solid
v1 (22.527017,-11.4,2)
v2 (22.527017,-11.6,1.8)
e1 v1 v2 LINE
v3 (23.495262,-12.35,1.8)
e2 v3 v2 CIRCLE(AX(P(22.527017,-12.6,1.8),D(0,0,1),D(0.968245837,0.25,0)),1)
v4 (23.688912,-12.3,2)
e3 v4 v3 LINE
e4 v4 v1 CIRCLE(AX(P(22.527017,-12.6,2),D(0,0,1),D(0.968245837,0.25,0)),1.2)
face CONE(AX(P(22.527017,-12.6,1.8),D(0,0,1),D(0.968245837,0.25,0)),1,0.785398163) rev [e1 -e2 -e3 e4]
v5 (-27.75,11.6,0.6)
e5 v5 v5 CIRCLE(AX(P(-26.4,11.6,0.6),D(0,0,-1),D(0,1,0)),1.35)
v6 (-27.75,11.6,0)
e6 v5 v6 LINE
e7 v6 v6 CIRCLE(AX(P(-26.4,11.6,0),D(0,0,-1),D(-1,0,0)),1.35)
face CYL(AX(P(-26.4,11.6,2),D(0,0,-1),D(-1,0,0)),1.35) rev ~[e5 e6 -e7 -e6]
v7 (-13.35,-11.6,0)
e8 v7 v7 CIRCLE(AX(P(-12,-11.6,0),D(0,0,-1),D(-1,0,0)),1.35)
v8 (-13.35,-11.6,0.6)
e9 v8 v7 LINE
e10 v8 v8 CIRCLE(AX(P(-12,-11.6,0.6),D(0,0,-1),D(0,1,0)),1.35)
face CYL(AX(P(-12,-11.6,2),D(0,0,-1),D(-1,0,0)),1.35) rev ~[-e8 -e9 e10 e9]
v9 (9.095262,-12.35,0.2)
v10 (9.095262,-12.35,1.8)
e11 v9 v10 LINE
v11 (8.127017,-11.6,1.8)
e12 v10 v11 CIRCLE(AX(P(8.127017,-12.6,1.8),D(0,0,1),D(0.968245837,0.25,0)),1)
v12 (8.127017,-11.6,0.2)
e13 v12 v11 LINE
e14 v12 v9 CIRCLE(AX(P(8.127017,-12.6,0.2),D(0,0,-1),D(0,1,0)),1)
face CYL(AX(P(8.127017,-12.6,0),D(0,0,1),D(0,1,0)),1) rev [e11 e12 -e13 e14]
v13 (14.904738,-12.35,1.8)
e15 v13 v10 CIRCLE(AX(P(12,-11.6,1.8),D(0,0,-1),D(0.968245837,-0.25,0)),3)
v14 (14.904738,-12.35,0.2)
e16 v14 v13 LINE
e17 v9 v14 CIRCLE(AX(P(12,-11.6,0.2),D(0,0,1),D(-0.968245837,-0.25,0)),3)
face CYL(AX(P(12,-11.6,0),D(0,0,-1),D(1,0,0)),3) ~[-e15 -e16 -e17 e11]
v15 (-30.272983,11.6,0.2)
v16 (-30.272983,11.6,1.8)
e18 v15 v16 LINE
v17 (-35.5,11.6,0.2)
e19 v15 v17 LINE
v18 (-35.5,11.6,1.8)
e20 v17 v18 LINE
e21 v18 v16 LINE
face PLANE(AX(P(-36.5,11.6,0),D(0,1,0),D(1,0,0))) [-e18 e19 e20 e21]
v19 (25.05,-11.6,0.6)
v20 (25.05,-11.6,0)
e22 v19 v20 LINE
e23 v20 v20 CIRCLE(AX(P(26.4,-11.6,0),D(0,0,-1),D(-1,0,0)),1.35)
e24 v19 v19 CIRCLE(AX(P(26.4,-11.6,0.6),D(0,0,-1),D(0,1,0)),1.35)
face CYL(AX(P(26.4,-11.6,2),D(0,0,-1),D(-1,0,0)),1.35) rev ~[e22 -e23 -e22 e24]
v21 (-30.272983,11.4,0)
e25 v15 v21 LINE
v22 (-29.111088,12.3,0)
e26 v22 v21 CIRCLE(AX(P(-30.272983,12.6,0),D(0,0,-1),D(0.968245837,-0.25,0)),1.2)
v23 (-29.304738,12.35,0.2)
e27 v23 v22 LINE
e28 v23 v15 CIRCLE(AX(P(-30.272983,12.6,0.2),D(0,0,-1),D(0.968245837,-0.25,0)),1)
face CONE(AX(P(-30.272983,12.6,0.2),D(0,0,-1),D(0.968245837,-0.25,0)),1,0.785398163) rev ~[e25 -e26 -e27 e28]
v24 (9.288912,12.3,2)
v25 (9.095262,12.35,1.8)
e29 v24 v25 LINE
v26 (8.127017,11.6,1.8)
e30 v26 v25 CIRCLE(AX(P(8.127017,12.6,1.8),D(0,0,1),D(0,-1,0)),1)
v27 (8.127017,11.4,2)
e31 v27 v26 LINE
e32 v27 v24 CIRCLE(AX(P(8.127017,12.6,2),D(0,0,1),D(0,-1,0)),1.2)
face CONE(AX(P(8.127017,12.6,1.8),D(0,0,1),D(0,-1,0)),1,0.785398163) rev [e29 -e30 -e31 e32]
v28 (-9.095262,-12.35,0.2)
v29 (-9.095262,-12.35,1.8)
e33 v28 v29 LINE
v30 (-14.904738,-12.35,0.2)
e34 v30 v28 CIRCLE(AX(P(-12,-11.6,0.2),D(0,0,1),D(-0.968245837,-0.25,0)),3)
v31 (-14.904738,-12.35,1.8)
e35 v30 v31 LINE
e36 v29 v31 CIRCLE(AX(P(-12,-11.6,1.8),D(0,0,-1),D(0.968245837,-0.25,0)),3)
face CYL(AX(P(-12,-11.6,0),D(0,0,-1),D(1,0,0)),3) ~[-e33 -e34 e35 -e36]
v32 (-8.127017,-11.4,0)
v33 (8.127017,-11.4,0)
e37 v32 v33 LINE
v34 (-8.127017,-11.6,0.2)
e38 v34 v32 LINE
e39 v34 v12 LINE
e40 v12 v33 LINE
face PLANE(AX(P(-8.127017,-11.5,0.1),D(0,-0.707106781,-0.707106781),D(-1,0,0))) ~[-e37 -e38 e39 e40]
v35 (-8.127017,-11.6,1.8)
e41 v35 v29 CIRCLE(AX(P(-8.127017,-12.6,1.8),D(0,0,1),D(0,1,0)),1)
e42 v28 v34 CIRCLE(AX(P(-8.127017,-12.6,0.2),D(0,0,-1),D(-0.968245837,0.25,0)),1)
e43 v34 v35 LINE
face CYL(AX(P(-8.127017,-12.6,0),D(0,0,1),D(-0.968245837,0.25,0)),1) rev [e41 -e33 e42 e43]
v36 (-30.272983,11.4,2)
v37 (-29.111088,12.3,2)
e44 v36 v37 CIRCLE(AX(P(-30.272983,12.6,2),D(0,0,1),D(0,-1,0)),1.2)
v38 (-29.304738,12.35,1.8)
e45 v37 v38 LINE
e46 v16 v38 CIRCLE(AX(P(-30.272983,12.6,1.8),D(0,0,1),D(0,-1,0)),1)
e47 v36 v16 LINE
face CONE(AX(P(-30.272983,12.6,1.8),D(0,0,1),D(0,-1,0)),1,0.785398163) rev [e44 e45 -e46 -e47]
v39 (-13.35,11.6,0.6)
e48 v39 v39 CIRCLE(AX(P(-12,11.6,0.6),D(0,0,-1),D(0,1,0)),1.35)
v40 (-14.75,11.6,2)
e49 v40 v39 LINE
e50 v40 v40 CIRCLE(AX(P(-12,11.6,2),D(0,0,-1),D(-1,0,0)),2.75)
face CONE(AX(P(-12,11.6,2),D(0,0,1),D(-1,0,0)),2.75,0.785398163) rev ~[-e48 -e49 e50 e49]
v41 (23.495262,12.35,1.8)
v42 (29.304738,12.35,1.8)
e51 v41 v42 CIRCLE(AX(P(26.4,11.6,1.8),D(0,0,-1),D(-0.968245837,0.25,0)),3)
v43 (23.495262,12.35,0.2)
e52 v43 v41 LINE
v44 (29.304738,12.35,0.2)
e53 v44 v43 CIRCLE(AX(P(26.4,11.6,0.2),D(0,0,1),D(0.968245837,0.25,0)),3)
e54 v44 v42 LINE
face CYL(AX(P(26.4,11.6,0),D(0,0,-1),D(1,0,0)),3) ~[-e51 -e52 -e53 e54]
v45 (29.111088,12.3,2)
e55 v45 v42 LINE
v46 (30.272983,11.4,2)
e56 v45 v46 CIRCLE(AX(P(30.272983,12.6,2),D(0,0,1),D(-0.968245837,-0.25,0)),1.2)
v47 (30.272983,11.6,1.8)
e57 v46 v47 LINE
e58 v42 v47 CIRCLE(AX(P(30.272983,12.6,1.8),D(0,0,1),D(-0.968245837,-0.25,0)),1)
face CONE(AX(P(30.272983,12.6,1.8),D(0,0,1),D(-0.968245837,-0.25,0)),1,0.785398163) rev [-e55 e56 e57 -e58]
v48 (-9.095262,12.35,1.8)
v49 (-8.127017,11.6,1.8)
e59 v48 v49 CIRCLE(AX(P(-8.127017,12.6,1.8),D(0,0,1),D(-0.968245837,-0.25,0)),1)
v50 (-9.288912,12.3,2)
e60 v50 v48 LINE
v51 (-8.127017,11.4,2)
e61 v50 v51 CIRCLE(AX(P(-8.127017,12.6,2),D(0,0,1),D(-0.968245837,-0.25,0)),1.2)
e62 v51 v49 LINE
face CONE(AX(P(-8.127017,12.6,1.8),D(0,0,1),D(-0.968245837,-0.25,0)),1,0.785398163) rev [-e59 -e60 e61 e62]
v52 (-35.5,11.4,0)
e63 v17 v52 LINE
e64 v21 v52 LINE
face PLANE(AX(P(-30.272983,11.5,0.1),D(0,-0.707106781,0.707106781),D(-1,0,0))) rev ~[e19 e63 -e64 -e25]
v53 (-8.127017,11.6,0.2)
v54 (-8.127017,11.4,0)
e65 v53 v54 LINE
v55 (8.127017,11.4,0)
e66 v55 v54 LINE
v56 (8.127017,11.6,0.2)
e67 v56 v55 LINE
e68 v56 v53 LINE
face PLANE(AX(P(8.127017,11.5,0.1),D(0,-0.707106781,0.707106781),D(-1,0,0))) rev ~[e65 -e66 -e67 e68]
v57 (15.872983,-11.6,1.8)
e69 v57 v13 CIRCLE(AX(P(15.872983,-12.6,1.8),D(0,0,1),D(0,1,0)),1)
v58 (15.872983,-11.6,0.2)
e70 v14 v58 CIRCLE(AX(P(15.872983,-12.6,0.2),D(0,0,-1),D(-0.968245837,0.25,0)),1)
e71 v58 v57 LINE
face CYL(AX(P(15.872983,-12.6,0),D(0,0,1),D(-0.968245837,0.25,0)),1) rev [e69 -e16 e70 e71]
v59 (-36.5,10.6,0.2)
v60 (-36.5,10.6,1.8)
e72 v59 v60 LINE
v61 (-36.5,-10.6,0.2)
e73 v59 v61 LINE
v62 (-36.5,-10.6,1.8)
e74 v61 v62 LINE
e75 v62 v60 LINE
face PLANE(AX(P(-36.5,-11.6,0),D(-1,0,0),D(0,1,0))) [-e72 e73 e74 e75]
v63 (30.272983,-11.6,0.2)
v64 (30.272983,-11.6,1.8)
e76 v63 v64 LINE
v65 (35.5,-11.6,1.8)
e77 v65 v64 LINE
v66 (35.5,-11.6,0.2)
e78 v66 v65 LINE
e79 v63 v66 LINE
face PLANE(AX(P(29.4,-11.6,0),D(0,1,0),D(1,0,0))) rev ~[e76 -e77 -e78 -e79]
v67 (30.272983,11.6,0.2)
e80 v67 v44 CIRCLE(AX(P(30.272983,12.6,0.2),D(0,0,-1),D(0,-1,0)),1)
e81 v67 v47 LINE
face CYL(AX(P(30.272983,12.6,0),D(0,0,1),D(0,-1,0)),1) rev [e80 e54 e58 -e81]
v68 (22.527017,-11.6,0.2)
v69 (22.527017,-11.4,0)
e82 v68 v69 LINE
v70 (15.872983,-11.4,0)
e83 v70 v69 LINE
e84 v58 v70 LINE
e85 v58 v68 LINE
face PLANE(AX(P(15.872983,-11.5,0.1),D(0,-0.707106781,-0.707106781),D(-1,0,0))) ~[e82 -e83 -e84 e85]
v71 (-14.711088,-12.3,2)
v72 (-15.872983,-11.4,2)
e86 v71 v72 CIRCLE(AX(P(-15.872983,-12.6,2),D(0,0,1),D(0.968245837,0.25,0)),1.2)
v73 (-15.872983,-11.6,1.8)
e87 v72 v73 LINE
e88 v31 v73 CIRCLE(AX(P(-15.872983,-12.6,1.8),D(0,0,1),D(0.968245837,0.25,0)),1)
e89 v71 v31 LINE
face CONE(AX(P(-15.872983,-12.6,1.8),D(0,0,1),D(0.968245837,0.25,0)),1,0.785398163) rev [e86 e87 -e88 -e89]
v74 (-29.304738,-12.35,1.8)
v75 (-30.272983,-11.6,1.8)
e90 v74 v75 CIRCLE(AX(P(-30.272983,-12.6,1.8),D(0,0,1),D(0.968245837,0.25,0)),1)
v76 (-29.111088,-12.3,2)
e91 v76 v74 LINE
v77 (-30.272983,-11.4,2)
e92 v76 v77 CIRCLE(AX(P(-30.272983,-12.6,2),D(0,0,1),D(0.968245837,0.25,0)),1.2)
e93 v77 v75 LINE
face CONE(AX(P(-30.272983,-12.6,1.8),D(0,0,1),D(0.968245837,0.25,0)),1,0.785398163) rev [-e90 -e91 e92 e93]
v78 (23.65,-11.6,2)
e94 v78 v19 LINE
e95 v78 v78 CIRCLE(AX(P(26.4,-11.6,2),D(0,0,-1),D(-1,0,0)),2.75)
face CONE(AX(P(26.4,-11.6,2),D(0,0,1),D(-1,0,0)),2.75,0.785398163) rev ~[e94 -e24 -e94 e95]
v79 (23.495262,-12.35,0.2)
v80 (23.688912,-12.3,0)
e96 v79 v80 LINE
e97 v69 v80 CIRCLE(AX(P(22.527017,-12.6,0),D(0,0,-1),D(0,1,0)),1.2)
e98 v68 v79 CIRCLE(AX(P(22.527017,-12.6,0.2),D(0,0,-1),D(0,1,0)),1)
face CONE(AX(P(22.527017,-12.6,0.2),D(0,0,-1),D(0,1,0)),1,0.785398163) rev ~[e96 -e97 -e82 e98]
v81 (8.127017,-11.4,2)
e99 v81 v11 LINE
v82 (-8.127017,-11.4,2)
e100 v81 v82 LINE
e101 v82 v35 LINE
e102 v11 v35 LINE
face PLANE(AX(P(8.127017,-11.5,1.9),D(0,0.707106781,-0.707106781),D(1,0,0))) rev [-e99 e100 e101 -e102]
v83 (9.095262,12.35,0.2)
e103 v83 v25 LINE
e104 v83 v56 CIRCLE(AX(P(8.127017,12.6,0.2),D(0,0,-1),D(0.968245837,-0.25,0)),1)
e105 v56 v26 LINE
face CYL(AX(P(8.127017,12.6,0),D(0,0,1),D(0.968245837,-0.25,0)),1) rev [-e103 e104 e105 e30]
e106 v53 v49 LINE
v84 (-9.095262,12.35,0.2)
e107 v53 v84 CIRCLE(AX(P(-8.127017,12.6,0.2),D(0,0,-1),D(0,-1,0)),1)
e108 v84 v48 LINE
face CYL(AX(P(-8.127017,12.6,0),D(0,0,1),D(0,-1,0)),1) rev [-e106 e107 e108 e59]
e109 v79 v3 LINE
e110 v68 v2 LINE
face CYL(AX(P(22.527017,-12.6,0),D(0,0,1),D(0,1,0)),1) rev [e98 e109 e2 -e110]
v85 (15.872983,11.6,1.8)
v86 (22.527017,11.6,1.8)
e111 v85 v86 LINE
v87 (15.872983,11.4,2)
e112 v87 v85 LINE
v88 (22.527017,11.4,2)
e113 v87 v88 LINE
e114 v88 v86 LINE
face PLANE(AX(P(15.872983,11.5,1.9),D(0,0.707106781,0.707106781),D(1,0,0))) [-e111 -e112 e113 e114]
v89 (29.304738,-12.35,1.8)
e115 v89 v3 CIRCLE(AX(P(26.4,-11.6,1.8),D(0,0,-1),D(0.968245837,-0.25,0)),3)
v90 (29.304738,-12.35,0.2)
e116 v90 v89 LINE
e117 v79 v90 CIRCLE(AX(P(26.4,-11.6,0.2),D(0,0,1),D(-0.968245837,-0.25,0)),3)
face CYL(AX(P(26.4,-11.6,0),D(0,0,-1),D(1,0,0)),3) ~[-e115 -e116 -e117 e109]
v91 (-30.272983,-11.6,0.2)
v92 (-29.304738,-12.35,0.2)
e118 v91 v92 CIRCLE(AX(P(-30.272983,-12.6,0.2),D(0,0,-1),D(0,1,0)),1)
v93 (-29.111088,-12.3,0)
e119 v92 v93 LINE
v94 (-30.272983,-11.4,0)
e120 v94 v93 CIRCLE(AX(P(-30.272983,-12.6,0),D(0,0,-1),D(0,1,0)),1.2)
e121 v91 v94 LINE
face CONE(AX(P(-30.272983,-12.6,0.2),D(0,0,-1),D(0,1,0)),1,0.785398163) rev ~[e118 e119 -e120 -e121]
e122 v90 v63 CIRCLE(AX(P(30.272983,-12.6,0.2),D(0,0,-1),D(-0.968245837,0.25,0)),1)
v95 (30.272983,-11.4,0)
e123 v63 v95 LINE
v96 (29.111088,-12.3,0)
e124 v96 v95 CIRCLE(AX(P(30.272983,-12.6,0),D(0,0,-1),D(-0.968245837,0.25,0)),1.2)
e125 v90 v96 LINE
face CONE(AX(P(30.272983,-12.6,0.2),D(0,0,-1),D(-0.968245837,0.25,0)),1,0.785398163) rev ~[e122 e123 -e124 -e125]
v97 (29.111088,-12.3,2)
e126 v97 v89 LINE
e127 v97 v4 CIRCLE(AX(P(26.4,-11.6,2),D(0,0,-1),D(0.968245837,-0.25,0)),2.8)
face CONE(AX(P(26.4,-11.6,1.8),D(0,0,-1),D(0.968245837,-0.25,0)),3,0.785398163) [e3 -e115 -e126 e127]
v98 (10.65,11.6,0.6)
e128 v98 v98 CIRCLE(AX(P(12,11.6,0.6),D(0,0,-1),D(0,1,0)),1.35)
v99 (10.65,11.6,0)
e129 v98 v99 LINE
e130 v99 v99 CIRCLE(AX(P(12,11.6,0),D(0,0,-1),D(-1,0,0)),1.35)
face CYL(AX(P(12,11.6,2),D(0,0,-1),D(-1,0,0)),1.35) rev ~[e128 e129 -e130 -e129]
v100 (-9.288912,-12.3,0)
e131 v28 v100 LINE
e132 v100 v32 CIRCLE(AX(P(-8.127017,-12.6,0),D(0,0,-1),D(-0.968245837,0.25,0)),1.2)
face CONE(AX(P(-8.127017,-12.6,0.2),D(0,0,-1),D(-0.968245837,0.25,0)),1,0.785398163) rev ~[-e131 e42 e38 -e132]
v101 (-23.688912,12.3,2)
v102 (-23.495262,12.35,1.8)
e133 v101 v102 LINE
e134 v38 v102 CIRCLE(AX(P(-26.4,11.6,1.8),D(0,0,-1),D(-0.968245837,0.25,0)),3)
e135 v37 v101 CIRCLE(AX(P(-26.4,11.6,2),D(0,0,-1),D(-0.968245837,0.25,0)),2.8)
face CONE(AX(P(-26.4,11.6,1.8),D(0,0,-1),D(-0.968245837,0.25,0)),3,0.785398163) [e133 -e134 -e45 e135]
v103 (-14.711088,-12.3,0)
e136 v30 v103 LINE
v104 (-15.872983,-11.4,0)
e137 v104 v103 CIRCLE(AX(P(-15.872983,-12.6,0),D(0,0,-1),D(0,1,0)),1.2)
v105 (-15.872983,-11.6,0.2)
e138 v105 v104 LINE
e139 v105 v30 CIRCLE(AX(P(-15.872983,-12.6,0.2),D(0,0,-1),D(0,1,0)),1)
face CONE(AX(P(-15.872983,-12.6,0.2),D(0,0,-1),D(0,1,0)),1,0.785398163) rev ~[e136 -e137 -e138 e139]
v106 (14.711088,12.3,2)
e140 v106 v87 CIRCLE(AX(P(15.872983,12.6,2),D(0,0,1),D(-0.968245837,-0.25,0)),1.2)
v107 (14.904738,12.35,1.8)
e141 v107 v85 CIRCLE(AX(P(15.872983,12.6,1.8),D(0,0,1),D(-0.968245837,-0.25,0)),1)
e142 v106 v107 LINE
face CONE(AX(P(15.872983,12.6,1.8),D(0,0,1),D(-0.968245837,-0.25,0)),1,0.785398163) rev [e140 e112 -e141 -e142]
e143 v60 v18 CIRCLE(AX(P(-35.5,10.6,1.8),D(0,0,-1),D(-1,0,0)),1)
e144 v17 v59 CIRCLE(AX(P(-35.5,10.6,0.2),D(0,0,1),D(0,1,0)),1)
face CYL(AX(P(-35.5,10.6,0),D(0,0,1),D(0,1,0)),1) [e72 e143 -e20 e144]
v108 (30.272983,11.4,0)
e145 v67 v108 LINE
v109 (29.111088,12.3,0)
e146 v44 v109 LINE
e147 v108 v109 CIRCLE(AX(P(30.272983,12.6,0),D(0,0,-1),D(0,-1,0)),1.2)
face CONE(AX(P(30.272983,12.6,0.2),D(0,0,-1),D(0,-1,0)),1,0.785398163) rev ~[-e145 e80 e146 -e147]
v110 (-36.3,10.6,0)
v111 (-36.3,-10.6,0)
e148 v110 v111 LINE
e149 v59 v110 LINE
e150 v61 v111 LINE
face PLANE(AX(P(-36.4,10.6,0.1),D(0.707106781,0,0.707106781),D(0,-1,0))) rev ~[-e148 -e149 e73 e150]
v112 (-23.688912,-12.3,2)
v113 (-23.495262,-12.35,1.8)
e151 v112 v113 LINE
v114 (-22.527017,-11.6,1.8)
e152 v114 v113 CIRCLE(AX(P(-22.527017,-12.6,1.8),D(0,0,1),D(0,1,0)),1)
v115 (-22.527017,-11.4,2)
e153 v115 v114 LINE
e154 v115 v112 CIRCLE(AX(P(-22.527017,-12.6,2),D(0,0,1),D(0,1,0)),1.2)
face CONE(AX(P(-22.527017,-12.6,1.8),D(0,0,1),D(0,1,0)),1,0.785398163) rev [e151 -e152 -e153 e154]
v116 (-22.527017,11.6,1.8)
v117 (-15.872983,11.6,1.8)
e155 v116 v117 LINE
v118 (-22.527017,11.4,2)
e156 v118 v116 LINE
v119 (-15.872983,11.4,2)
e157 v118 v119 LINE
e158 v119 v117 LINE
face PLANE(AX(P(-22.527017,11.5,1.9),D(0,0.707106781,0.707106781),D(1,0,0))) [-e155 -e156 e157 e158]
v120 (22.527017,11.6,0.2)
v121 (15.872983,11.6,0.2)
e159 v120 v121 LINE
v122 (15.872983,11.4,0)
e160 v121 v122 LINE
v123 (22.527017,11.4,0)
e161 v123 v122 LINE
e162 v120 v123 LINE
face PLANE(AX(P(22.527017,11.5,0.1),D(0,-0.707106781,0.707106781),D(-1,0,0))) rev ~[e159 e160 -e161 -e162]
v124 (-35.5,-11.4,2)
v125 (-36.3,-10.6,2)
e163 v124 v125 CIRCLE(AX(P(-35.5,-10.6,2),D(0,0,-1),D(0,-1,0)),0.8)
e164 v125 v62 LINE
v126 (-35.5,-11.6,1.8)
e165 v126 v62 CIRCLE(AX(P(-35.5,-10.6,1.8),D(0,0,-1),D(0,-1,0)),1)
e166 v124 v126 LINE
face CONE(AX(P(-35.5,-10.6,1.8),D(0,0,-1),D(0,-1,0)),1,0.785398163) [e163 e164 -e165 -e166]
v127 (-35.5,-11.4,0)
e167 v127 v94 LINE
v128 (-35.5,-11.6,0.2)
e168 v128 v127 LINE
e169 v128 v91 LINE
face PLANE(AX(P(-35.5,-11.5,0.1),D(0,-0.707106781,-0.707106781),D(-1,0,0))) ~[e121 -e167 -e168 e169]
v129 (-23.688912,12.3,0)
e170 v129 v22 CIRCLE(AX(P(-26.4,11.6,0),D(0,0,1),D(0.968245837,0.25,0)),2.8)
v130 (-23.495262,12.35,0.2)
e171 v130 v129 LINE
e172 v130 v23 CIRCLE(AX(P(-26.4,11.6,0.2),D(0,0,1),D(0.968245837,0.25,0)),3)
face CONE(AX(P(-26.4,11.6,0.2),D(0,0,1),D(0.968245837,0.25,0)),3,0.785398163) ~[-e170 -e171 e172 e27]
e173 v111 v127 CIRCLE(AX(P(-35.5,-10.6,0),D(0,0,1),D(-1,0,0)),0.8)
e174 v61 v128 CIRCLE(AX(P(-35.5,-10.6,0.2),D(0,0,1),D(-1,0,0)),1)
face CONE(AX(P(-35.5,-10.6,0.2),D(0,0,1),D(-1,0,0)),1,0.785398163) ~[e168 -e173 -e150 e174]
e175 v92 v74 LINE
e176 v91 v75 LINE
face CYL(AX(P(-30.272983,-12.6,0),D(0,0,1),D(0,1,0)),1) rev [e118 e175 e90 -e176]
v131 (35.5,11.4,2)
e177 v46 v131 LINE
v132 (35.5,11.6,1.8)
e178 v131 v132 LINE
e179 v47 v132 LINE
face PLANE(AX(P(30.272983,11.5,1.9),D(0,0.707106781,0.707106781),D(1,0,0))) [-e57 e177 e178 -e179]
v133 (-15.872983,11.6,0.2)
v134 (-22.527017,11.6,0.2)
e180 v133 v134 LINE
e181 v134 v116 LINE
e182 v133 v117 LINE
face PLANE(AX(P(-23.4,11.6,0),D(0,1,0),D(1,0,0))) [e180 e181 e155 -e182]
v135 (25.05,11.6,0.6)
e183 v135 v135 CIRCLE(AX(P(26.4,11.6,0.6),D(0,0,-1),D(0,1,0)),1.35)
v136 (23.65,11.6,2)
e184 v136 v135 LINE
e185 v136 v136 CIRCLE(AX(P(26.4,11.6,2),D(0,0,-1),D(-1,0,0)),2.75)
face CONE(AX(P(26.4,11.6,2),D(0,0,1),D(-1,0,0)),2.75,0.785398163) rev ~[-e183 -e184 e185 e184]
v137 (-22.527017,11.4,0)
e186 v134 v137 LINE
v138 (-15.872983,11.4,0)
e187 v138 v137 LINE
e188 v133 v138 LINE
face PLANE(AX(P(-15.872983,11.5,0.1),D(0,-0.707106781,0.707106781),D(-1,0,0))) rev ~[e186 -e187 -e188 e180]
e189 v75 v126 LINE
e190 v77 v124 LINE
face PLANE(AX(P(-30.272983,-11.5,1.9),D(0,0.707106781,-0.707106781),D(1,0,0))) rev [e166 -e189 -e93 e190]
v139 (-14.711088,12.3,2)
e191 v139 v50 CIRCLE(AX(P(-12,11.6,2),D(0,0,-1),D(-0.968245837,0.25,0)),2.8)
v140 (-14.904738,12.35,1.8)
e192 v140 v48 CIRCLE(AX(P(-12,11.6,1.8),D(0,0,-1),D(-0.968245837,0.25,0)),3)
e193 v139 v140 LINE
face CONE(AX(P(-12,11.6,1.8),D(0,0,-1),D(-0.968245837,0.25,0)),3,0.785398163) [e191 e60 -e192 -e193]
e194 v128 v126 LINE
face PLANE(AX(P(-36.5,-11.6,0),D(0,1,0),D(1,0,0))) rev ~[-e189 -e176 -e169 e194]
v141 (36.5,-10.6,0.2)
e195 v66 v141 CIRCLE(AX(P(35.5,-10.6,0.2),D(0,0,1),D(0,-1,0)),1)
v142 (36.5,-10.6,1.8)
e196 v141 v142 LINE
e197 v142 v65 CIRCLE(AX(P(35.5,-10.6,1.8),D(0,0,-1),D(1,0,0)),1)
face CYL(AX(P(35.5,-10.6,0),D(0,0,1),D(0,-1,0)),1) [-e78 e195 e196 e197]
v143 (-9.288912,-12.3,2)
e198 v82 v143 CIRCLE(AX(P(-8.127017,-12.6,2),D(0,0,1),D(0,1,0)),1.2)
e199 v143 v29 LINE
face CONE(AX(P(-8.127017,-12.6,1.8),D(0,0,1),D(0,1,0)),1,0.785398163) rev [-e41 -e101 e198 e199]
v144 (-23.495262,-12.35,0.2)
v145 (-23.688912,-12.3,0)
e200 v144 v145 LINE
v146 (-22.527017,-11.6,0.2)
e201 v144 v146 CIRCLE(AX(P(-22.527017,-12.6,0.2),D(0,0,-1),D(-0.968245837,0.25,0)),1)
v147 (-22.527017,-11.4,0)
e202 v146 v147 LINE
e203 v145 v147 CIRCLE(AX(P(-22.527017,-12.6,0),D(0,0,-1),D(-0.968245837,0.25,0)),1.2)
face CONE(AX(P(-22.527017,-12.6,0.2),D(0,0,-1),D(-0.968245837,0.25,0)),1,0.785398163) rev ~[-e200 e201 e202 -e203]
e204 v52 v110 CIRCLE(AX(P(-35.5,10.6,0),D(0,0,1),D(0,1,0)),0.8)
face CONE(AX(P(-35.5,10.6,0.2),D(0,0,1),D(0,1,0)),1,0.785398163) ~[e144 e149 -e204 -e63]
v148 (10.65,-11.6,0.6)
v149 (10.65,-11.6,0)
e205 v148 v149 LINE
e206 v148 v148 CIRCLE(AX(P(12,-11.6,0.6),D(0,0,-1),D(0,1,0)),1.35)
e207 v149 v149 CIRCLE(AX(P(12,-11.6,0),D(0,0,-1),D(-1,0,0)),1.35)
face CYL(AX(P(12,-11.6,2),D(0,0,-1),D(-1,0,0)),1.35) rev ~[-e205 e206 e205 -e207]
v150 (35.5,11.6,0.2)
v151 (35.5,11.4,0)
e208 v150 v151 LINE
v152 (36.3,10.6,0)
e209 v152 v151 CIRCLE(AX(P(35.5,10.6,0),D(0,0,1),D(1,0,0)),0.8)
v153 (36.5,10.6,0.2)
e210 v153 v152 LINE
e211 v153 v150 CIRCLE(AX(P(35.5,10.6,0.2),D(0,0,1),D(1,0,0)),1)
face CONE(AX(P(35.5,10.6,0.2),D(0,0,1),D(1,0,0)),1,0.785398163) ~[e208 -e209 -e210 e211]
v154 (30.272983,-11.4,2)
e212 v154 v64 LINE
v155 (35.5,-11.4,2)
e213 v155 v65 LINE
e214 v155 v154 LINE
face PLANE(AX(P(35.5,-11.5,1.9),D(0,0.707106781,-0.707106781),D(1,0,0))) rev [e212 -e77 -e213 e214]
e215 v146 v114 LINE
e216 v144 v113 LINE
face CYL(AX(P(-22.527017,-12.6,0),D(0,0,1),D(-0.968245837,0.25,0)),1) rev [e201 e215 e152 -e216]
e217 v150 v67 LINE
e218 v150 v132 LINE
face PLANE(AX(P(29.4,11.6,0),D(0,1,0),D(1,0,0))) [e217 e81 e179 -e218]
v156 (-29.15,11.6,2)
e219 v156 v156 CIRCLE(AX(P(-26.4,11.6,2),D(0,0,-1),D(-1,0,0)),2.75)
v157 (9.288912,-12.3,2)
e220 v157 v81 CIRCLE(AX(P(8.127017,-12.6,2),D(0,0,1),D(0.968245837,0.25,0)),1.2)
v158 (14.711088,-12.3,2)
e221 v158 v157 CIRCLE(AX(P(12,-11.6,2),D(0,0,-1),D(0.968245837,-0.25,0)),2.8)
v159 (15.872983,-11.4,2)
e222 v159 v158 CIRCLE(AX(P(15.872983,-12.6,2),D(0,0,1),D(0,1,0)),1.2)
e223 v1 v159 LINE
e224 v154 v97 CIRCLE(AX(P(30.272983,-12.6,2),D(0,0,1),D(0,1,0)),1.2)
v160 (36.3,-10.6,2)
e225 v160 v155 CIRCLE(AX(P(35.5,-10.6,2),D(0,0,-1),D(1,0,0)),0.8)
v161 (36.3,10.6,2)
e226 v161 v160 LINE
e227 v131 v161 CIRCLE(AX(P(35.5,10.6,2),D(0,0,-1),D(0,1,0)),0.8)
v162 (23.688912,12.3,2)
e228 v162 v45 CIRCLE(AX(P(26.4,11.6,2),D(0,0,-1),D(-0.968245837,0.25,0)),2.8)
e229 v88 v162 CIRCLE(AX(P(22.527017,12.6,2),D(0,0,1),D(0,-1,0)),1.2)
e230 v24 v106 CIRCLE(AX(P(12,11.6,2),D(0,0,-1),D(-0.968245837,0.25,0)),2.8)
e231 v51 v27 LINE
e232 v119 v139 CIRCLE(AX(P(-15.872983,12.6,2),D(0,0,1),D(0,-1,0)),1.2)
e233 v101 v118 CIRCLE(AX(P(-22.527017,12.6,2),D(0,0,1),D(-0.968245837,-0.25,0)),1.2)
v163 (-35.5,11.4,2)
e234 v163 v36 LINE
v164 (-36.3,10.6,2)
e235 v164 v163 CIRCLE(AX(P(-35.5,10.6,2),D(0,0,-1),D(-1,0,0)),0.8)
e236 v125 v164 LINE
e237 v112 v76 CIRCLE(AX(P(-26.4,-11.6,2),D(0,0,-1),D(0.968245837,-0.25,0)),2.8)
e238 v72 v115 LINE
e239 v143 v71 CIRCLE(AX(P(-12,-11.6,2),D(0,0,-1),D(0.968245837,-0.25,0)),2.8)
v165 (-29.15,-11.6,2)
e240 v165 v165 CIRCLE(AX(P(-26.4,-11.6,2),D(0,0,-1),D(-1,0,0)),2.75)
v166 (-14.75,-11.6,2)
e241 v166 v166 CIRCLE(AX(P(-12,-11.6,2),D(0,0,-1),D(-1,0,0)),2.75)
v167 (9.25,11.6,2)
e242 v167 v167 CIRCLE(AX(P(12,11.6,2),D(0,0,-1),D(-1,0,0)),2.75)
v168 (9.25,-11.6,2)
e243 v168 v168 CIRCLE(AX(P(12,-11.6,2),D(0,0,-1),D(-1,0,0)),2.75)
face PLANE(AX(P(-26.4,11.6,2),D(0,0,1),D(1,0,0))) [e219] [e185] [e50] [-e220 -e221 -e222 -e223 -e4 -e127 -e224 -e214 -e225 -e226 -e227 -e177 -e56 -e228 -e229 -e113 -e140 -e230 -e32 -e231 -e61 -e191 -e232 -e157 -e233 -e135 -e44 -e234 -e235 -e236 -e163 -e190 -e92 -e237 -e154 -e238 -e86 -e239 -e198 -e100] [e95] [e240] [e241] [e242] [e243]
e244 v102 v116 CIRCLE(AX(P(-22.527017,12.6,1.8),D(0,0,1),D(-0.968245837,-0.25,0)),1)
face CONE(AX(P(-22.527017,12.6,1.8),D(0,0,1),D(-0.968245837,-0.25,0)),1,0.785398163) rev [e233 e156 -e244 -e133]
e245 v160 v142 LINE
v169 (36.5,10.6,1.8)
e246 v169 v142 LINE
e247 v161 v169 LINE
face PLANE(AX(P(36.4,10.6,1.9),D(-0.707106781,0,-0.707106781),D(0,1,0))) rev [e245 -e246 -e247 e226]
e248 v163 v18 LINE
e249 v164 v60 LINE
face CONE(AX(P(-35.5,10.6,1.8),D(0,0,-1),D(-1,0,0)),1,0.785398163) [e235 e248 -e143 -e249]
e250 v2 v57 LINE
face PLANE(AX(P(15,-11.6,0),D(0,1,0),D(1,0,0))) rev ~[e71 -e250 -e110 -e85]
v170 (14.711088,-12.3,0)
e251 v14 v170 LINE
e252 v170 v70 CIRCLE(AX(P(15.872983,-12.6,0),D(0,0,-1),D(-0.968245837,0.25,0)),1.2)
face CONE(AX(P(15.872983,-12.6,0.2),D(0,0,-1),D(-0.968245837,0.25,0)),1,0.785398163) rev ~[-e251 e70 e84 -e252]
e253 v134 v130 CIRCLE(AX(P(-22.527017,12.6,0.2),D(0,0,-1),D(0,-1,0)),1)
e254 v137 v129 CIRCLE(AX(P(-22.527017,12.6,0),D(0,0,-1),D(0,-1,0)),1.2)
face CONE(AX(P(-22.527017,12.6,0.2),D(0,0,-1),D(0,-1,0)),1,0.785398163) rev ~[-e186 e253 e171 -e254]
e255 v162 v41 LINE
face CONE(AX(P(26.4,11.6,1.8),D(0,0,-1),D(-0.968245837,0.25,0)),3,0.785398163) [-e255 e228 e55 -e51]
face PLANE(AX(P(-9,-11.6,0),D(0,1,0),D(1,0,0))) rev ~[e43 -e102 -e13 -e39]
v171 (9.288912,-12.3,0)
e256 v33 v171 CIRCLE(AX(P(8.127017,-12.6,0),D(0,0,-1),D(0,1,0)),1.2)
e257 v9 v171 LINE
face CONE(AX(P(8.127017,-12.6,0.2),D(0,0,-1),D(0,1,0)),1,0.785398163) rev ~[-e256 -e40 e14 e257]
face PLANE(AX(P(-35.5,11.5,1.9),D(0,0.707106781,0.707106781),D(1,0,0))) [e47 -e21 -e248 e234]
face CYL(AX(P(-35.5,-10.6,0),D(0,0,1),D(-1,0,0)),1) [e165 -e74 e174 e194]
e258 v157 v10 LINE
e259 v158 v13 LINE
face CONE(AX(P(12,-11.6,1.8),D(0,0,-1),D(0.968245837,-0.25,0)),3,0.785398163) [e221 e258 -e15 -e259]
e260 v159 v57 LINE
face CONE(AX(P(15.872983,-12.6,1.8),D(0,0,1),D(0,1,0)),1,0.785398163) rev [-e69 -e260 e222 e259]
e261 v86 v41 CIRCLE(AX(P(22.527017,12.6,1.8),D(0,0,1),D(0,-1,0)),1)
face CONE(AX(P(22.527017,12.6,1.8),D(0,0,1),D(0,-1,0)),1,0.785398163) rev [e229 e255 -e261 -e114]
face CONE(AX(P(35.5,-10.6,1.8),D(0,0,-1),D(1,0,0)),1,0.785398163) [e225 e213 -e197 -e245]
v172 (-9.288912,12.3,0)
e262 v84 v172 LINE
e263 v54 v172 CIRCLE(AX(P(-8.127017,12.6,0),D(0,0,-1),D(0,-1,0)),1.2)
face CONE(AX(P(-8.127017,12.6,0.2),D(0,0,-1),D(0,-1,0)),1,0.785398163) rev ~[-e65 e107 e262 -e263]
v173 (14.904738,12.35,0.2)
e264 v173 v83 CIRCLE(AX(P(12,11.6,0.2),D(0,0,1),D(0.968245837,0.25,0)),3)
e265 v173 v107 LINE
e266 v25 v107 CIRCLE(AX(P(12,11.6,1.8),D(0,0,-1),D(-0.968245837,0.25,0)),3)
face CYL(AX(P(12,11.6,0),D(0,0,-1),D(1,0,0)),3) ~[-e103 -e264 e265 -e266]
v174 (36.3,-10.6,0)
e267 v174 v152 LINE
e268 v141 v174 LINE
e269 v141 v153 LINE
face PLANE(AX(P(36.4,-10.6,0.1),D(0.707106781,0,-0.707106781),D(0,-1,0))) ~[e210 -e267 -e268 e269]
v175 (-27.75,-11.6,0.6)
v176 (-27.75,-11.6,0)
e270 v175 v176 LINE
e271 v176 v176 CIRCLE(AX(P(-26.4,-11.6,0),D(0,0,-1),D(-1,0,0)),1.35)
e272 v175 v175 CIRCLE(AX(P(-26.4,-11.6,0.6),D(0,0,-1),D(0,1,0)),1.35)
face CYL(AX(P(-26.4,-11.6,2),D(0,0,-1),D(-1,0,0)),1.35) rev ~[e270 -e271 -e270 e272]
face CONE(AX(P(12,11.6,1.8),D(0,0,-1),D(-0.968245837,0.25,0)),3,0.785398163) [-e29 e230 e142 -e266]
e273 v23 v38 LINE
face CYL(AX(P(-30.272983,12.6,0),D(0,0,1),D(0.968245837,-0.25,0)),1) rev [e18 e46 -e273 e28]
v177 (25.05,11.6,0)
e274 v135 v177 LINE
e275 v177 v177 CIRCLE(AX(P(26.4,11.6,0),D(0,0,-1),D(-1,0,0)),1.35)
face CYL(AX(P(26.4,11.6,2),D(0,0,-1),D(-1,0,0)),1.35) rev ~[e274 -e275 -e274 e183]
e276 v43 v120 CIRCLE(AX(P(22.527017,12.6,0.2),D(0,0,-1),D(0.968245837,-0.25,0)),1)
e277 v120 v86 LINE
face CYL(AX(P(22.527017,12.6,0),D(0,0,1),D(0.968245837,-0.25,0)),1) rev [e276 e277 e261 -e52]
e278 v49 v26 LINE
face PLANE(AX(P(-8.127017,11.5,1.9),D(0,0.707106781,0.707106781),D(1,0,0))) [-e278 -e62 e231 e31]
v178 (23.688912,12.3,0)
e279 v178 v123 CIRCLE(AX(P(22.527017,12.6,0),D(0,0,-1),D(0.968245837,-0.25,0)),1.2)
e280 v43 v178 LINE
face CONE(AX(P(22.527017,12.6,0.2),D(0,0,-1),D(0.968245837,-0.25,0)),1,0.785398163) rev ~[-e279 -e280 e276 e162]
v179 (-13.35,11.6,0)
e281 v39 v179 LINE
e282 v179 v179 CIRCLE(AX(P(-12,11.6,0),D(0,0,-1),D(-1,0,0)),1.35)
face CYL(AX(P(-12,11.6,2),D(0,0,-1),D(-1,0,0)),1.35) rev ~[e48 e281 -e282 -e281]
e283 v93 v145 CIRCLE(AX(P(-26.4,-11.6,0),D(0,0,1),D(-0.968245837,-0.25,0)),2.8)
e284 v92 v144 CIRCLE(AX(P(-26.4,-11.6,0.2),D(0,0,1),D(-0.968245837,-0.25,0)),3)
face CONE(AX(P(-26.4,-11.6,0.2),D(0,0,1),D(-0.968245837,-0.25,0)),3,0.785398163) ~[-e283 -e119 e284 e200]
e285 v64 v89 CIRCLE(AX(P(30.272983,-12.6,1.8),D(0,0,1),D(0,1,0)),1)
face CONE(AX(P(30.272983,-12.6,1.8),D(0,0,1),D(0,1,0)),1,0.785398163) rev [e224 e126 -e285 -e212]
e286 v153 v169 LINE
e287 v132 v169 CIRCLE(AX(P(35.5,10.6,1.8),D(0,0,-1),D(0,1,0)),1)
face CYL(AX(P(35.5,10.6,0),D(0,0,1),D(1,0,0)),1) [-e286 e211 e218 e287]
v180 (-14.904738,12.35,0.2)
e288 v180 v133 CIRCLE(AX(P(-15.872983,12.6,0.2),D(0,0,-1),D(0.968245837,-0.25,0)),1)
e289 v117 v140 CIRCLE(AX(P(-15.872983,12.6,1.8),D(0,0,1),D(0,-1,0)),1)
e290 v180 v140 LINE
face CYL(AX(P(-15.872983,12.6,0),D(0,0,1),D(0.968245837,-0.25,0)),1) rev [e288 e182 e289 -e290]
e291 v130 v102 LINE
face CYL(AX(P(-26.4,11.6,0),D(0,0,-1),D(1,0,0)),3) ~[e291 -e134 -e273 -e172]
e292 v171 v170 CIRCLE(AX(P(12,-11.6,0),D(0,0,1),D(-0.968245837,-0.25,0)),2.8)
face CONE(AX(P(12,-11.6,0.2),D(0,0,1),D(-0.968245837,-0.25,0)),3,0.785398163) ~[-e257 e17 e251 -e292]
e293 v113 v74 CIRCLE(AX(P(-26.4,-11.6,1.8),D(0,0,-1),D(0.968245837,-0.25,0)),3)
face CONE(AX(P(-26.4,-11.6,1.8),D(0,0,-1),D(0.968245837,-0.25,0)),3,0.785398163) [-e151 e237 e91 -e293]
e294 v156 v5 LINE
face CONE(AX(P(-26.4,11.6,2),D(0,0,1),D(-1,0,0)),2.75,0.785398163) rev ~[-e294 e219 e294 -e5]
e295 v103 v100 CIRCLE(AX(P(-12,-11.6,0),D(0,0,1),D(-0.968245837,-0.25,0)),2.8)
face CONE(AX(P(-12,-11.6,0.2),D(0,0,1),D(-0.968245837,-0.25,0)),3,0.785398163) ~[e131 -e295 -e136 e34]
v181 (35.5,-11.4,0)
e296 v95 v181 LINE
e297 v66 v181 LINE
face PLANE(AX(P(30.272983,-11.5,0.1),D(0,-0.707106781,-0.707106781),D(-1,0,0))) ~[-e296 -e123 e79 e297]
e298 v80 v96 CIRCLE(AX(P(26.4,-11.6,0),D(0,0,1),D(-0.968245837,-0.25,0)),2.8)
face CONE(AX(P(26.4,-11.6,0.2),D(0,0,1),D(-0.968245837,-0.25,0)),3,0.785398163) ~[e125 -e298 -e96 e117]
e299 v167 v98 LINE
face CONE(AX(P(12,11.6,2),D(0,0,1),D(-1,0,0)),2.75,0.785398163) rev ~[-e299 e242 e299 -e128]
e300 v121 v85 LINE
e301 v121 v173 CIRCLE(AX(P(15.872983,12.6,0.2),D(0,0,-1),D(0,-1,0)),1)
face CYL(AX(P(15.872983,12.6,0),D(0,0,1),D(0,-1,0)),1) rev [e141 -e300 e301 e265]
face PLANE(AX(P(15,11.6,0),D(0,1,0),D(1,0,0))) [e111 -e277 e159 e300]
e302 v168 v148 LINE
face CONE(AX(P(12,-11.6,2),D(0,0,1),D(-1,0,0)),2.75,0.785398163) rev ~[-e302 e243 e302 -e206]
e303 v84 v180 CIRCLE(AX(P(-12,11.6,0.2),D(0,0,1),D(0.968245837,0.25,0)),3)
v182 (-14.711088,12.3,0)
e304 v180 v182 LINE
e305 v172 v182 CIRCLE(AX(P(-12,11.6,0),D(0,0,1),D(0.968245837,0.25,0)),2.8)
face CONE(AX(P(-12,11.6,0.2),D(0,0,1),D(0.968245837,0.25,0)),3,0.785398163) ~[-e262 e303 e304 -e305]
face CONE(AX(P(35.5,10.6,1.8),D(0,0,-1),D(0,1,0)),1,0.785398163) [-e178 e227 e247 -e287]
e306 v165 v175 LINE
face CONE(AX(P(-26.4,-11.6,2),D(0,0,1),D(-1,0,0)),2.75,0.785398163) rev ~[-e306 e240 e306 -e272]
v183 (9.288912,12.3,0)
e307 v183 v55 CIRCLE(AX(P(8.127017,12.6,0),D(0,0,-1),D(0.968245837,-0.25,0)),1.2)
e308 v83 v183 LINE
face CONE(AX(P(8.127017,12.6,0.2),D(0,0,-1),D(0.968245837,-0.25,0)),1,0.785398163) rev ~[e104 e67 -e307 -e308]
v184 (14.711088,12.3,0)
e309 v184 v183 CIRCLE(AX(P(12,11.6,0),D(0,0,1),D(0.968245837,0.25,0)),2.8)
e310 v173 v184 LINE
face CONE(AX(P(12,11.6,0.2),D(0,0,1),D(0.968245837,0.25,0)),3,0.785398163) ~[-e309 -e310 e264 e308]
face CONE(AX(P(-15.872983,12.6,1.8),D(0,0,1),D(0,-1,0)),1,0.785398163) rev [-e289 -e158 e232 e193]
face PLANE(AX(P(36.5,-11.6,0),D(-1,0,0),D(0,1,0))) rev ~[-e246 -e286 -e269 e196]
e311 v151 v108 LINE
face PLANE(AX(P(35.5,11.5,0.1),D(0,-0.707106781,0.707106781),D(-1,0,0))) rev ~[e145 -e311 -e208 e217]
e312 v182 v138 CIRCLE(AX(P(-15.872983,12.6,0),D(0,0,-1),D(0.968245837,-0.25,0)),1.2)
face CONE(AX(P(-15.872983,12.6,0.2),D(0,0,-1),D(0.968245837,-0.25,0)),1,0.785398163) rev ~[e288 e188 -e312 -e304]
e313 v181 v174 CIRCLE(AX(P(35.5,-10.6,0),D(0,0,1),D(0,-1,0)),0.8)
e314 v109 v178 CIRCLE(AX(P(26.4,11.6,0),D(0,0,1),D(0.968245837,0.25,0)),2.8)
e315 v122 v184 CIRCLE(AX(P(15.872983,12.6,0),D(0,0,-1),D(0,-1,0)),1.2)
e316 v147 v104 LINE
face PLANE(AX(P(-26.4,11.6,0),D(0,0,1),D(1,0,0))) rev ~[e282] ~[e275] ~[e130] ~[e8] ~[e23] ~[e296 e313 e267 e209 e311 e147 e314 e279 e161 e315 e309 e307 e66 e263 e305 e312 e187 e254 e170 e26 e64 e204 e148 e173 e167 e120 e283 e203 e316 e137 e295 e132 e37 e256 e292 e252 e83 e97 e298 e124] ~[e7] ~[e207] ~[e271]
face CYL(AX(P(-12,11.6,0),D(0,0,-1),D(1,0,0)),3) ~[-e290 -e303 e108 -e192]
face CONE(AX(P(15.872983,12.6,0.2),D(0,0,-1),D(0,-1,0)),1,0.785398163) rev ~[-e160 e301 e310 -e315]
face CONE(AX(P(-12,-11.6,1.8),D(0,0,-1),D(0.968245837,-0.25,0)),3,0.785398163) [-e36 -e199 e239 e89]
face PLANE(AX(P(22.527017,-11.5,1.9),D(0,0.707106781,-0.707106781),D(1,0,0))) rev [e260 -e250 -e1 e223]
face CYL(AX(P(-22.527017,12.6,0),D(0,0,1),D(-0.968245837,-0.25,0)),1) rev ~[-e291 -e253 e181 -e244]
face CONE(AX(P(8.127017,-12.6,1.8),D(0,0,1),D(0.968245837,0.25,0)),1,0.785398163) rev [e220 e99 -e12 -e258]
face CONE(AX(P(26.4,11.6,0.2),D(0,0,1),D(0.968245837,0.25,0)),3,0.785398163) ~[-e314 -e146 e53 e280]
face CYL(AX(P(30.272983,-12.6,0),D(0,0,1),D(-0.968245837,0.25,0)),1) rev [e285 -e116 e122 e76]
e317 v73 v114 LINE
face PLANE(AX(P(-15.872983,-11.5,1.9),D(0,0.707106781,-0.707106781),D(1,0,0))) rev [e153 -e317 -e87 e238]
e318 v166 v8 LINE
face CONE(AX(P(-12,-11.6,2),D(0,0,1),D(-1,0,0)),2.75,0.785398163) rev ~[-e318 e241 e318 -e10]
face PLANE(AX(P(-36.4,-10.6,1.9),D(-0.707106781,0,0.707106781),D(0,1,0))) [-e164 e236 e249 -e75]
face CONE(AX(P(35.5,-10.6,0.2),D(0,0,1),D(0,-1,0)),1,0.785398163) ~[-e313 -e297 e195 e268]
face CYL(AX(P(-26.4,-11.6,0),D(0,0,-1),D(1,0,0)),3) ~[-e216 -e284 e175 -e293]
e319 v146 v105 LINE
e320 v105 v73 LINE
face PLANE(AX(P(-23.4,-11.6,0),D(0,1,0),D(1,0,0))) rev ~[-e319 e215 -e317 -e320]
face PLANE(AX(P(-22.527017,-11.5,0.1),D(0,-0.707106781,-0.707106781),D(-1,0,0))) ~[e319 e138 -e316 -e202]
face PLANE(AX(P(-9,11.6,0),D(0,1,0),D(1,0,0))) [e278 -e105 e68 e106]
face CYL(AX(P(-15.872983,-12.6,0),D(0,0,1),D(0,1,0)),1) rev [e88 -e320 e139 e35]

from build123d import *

# Parameters (mm, degrees)
SKETCH_1_R                     = 3
SKETCH_1_W                     = 73
SKETCH_1_H                     = 23.2
EXTRUDE_1_DEPTH                = 2
FILLET_1_R                     = 1
HOLE_WIZARD_M2_5_1_D           = 2.7
HOLE_WIZARD_M2_5_1_DEPTH       = 5.538838164
HOLE_WIZARD_M2_5_1_CSINK_D     = 5.5
HOLE_WIZARD_M2_5_1_CSINK_ANGLE = 90
HOLE_WIZARD_M2_5_1_TIP         = 0.811161836
CHAMFER_1_SIZE                 = 0.2


with BuildPart() as part:
    # 草图1 → 凸台-拉伸1 (new body)
    with BuildSketch(Plane.XY):
        with Locations((-26.4, 11.6)):
            Circle(SKETCH_1_R)
        with Locations((-12, 11.6)):
            Circle(SKETCH_1_R)
        with Locations((12, 11.6)):
            Circle(SKETCH_1_R)
        with Locations((26.4, 11.6)):
            Circle(SKETCH_1_R)
        with Locations((26.4, -11.6)):
            Circle(SKETCH_1_R)
        with Locations((12, -11.6)):
            Circle(SKETCH_1_R)
        with Locations((-12, -11.6)):
            Circle(SKETCH_1_R)
        with Locations((-26.4, -11.6)):
            Circle(SKETCH_1_R)
        Rectangle(SKETCH_1_W, SKETCH_1_H)
    extrude(amount=EXTRUDE_1_DEPTH)

    # 圆角1
    fillet_1_edges = [part.edges().sort_by_distance(p)[0] for p in [
        (29.4, 11.6, 1),
        (23.4, 11.6, 1),
        (23.4, -11.6, 1),
        (29.4, -11.6, 1),
        (9, -11.6, 1),
        (15, -11.6, 1),
        (-15, -11.6, 1),
        (-9, -11.6, 1),
        (-29.4, -11.6, 1),
        (-23.4, -11.6, 1),
        (-23.4, 11.6, 1),
        (-29.4, 11.6, 1),
        (-9, 11.6, 1),
        (-15, 11.6, 1),
        (-36.5, -11.6, 1),
        (36.5, -11.6, 1),
        (36.5, 11.6, 1),
        (-36.5, 11.6, 1),
        (9, 11.6, 1),
        (15, 11.6, 1),
    ]]
    fillet(fillet_1_edges, radius=FILLET_1_R)

    # M2.5 锥坑平头螺钉的锥形沉头孔1
    with Locations(Plane(origin=(-26.4, 11.6, 2), x_dir=(1, 0, 0), z_dir=(0, 0, 1))):
        with Locations((0, 0), (14.4, 0), (38.4, 0), (52.8, 0), (52.8, -23.2), (38.4, -23.2), (14.4, -23.2), (0, -23.2)):
            CounterSinkHole(HOLE_WIZARD_M2_5_1_D / 2, HOLE_WIZARD_M2_5_1_CSINK_D / 2, depth=HOLE_WIZARD_M2_5_1_DEPTH, counter_sink_angle=HOLE_WIZARD_M2_5_1_CSINK_ANGLE)
            with Locations((0, 0, -(HOLE_WIZARD_M2_5_1_DEPTH + HOLE_WIZARD_M2_5_1_TIP / 2))):  # 118° drill point
                Cone(0, HOLE_WIZARD_M2_5_1_D / 2, HOLE_WIZARD_M2_5_1_TIP, mode=Mode.SUBTRACT)

    # 倒角1
    chamfer_1_edges = [part.edges().sort_by_distance(p)[0] for p in [
        (-36.5, 0, 2),
        (-32.886491673, -11.6, 2),
        (-26.4, -14.6, 2),
        (-19.2, -11.6, 2),
        (-12, -14.6, 2),
        (0, -11.6, 2),
        (12, -14.6, 2),
        (19.2, -11.6, 2),
        (26.4, -14.6, 2),
        (32.886491673, -11.6, 2),
        (36.207106781, -11.307106781, 2),
        (-36.207106781, 11.307106781, 2),
        (-36.207106781, -11.307106781, 2),
        (36.207106781, 11.307106781, 2),
        (15.260610911, 11.809430585, 0),
        (15.260610911, 11.809430585, 2),
        (23.139389089, 11.809430585, 0),
        (23.139389089, 11.809430585, 2),
        (29.660610911, 11.809430585, 0),
        (29.660610911, 11.809430585, 2),
        (29.660610911, -11.809430585, 0),
        (29.660610911, -11.809430585, 2),
        (23.139389089, -11.809430585, 0),
        (23.139389089, -11.809430585, 2),
        (15.260610911, -11.809430585, 0),
        (15.260610911, -11.809430585, 2),
        (8.739389089, -11.809430585, 0),
        (8.739389089, -11.809430585, 2),
        (-8.739389089, -11.809430585, 0),
        (-8.739389089, -11.809430585, 2),
        (-15.260610911, -11.809430585, 0),
        (-15.260610911, -11.809430585, 2),
        (-23.139389089, -11.809430585, 0),
        (-23.139389089, -11.809430585, 2),
        (-29.660610911, -11.809430585, 0),
        (-29.660610911, -11.809430585, 2),
        (-29.660610911, 11.809430585, 0),
        (-29.660610911, 11.809430585, 2),
        (-23.139389089, 11.809430585, 2),
        (-23.139389089, 11.809430585, 0),
        (-15.260610911, 11.809430585, 0),
        (-15.260610911, 11.809430585, 2),
        (-8.739389089, 11.809430585, 2),
        (-8.739389089, 11.809430585, 0),
        (8.739389089, 11.809430585, 0),
        (8.739389089, 11.809430585, 2),
        (12, 14.6, 0),
        (12, 14.6, 2),
        (19.2, 11.6, 2),
        (19.2, 11.6, 0),
        (26.4, 14.6, 0),
        (26.4, 14.6, 2),
        (32.886491673, 11.6, 2),
        (32.886491673, 11.6, 0),
        (36.5, 0, 0),
        (32.886491673, -11.6, 0),
        (26.4, -14.6, 0),
        (19.2, -11.6, 0),
        (12, -14.6, 0),
        (0, -11.6, 0),
        (-12, -14.6, 0),
        (-19.2, -11.6, 0),
        (-26.4, -14.6, 0),
        (-32.886491673, -11.6, 0),
        (-36.5, 0, 0),
        (-32.886491673, 11.6, 0),
        (-26.4, 14.6, 0),
        (-19.2, 11.6, 0),
        (-12, 14.6, 0),
        (0, 11.6, 0),
        (36.207106781, -11.307106781, 0),
        (-36.207106781, 11.307106781, 0),
        (-36.207106781, -11.307106781, 0),
        (36.207106781, 11.307106781, 0),
        (36.5, 0, 2),
        (0, 11.6, 2),
        (-12, 14.6, 2),
        (-19.2, 11.6, 2),
        (-26.4, 14.6, 2),
        (-32.886491673, 11.6, 2),
    ]]
    chamfer(chamfer_1_edges, length=CHAMFER_1_SIZE)


solid = part.part
